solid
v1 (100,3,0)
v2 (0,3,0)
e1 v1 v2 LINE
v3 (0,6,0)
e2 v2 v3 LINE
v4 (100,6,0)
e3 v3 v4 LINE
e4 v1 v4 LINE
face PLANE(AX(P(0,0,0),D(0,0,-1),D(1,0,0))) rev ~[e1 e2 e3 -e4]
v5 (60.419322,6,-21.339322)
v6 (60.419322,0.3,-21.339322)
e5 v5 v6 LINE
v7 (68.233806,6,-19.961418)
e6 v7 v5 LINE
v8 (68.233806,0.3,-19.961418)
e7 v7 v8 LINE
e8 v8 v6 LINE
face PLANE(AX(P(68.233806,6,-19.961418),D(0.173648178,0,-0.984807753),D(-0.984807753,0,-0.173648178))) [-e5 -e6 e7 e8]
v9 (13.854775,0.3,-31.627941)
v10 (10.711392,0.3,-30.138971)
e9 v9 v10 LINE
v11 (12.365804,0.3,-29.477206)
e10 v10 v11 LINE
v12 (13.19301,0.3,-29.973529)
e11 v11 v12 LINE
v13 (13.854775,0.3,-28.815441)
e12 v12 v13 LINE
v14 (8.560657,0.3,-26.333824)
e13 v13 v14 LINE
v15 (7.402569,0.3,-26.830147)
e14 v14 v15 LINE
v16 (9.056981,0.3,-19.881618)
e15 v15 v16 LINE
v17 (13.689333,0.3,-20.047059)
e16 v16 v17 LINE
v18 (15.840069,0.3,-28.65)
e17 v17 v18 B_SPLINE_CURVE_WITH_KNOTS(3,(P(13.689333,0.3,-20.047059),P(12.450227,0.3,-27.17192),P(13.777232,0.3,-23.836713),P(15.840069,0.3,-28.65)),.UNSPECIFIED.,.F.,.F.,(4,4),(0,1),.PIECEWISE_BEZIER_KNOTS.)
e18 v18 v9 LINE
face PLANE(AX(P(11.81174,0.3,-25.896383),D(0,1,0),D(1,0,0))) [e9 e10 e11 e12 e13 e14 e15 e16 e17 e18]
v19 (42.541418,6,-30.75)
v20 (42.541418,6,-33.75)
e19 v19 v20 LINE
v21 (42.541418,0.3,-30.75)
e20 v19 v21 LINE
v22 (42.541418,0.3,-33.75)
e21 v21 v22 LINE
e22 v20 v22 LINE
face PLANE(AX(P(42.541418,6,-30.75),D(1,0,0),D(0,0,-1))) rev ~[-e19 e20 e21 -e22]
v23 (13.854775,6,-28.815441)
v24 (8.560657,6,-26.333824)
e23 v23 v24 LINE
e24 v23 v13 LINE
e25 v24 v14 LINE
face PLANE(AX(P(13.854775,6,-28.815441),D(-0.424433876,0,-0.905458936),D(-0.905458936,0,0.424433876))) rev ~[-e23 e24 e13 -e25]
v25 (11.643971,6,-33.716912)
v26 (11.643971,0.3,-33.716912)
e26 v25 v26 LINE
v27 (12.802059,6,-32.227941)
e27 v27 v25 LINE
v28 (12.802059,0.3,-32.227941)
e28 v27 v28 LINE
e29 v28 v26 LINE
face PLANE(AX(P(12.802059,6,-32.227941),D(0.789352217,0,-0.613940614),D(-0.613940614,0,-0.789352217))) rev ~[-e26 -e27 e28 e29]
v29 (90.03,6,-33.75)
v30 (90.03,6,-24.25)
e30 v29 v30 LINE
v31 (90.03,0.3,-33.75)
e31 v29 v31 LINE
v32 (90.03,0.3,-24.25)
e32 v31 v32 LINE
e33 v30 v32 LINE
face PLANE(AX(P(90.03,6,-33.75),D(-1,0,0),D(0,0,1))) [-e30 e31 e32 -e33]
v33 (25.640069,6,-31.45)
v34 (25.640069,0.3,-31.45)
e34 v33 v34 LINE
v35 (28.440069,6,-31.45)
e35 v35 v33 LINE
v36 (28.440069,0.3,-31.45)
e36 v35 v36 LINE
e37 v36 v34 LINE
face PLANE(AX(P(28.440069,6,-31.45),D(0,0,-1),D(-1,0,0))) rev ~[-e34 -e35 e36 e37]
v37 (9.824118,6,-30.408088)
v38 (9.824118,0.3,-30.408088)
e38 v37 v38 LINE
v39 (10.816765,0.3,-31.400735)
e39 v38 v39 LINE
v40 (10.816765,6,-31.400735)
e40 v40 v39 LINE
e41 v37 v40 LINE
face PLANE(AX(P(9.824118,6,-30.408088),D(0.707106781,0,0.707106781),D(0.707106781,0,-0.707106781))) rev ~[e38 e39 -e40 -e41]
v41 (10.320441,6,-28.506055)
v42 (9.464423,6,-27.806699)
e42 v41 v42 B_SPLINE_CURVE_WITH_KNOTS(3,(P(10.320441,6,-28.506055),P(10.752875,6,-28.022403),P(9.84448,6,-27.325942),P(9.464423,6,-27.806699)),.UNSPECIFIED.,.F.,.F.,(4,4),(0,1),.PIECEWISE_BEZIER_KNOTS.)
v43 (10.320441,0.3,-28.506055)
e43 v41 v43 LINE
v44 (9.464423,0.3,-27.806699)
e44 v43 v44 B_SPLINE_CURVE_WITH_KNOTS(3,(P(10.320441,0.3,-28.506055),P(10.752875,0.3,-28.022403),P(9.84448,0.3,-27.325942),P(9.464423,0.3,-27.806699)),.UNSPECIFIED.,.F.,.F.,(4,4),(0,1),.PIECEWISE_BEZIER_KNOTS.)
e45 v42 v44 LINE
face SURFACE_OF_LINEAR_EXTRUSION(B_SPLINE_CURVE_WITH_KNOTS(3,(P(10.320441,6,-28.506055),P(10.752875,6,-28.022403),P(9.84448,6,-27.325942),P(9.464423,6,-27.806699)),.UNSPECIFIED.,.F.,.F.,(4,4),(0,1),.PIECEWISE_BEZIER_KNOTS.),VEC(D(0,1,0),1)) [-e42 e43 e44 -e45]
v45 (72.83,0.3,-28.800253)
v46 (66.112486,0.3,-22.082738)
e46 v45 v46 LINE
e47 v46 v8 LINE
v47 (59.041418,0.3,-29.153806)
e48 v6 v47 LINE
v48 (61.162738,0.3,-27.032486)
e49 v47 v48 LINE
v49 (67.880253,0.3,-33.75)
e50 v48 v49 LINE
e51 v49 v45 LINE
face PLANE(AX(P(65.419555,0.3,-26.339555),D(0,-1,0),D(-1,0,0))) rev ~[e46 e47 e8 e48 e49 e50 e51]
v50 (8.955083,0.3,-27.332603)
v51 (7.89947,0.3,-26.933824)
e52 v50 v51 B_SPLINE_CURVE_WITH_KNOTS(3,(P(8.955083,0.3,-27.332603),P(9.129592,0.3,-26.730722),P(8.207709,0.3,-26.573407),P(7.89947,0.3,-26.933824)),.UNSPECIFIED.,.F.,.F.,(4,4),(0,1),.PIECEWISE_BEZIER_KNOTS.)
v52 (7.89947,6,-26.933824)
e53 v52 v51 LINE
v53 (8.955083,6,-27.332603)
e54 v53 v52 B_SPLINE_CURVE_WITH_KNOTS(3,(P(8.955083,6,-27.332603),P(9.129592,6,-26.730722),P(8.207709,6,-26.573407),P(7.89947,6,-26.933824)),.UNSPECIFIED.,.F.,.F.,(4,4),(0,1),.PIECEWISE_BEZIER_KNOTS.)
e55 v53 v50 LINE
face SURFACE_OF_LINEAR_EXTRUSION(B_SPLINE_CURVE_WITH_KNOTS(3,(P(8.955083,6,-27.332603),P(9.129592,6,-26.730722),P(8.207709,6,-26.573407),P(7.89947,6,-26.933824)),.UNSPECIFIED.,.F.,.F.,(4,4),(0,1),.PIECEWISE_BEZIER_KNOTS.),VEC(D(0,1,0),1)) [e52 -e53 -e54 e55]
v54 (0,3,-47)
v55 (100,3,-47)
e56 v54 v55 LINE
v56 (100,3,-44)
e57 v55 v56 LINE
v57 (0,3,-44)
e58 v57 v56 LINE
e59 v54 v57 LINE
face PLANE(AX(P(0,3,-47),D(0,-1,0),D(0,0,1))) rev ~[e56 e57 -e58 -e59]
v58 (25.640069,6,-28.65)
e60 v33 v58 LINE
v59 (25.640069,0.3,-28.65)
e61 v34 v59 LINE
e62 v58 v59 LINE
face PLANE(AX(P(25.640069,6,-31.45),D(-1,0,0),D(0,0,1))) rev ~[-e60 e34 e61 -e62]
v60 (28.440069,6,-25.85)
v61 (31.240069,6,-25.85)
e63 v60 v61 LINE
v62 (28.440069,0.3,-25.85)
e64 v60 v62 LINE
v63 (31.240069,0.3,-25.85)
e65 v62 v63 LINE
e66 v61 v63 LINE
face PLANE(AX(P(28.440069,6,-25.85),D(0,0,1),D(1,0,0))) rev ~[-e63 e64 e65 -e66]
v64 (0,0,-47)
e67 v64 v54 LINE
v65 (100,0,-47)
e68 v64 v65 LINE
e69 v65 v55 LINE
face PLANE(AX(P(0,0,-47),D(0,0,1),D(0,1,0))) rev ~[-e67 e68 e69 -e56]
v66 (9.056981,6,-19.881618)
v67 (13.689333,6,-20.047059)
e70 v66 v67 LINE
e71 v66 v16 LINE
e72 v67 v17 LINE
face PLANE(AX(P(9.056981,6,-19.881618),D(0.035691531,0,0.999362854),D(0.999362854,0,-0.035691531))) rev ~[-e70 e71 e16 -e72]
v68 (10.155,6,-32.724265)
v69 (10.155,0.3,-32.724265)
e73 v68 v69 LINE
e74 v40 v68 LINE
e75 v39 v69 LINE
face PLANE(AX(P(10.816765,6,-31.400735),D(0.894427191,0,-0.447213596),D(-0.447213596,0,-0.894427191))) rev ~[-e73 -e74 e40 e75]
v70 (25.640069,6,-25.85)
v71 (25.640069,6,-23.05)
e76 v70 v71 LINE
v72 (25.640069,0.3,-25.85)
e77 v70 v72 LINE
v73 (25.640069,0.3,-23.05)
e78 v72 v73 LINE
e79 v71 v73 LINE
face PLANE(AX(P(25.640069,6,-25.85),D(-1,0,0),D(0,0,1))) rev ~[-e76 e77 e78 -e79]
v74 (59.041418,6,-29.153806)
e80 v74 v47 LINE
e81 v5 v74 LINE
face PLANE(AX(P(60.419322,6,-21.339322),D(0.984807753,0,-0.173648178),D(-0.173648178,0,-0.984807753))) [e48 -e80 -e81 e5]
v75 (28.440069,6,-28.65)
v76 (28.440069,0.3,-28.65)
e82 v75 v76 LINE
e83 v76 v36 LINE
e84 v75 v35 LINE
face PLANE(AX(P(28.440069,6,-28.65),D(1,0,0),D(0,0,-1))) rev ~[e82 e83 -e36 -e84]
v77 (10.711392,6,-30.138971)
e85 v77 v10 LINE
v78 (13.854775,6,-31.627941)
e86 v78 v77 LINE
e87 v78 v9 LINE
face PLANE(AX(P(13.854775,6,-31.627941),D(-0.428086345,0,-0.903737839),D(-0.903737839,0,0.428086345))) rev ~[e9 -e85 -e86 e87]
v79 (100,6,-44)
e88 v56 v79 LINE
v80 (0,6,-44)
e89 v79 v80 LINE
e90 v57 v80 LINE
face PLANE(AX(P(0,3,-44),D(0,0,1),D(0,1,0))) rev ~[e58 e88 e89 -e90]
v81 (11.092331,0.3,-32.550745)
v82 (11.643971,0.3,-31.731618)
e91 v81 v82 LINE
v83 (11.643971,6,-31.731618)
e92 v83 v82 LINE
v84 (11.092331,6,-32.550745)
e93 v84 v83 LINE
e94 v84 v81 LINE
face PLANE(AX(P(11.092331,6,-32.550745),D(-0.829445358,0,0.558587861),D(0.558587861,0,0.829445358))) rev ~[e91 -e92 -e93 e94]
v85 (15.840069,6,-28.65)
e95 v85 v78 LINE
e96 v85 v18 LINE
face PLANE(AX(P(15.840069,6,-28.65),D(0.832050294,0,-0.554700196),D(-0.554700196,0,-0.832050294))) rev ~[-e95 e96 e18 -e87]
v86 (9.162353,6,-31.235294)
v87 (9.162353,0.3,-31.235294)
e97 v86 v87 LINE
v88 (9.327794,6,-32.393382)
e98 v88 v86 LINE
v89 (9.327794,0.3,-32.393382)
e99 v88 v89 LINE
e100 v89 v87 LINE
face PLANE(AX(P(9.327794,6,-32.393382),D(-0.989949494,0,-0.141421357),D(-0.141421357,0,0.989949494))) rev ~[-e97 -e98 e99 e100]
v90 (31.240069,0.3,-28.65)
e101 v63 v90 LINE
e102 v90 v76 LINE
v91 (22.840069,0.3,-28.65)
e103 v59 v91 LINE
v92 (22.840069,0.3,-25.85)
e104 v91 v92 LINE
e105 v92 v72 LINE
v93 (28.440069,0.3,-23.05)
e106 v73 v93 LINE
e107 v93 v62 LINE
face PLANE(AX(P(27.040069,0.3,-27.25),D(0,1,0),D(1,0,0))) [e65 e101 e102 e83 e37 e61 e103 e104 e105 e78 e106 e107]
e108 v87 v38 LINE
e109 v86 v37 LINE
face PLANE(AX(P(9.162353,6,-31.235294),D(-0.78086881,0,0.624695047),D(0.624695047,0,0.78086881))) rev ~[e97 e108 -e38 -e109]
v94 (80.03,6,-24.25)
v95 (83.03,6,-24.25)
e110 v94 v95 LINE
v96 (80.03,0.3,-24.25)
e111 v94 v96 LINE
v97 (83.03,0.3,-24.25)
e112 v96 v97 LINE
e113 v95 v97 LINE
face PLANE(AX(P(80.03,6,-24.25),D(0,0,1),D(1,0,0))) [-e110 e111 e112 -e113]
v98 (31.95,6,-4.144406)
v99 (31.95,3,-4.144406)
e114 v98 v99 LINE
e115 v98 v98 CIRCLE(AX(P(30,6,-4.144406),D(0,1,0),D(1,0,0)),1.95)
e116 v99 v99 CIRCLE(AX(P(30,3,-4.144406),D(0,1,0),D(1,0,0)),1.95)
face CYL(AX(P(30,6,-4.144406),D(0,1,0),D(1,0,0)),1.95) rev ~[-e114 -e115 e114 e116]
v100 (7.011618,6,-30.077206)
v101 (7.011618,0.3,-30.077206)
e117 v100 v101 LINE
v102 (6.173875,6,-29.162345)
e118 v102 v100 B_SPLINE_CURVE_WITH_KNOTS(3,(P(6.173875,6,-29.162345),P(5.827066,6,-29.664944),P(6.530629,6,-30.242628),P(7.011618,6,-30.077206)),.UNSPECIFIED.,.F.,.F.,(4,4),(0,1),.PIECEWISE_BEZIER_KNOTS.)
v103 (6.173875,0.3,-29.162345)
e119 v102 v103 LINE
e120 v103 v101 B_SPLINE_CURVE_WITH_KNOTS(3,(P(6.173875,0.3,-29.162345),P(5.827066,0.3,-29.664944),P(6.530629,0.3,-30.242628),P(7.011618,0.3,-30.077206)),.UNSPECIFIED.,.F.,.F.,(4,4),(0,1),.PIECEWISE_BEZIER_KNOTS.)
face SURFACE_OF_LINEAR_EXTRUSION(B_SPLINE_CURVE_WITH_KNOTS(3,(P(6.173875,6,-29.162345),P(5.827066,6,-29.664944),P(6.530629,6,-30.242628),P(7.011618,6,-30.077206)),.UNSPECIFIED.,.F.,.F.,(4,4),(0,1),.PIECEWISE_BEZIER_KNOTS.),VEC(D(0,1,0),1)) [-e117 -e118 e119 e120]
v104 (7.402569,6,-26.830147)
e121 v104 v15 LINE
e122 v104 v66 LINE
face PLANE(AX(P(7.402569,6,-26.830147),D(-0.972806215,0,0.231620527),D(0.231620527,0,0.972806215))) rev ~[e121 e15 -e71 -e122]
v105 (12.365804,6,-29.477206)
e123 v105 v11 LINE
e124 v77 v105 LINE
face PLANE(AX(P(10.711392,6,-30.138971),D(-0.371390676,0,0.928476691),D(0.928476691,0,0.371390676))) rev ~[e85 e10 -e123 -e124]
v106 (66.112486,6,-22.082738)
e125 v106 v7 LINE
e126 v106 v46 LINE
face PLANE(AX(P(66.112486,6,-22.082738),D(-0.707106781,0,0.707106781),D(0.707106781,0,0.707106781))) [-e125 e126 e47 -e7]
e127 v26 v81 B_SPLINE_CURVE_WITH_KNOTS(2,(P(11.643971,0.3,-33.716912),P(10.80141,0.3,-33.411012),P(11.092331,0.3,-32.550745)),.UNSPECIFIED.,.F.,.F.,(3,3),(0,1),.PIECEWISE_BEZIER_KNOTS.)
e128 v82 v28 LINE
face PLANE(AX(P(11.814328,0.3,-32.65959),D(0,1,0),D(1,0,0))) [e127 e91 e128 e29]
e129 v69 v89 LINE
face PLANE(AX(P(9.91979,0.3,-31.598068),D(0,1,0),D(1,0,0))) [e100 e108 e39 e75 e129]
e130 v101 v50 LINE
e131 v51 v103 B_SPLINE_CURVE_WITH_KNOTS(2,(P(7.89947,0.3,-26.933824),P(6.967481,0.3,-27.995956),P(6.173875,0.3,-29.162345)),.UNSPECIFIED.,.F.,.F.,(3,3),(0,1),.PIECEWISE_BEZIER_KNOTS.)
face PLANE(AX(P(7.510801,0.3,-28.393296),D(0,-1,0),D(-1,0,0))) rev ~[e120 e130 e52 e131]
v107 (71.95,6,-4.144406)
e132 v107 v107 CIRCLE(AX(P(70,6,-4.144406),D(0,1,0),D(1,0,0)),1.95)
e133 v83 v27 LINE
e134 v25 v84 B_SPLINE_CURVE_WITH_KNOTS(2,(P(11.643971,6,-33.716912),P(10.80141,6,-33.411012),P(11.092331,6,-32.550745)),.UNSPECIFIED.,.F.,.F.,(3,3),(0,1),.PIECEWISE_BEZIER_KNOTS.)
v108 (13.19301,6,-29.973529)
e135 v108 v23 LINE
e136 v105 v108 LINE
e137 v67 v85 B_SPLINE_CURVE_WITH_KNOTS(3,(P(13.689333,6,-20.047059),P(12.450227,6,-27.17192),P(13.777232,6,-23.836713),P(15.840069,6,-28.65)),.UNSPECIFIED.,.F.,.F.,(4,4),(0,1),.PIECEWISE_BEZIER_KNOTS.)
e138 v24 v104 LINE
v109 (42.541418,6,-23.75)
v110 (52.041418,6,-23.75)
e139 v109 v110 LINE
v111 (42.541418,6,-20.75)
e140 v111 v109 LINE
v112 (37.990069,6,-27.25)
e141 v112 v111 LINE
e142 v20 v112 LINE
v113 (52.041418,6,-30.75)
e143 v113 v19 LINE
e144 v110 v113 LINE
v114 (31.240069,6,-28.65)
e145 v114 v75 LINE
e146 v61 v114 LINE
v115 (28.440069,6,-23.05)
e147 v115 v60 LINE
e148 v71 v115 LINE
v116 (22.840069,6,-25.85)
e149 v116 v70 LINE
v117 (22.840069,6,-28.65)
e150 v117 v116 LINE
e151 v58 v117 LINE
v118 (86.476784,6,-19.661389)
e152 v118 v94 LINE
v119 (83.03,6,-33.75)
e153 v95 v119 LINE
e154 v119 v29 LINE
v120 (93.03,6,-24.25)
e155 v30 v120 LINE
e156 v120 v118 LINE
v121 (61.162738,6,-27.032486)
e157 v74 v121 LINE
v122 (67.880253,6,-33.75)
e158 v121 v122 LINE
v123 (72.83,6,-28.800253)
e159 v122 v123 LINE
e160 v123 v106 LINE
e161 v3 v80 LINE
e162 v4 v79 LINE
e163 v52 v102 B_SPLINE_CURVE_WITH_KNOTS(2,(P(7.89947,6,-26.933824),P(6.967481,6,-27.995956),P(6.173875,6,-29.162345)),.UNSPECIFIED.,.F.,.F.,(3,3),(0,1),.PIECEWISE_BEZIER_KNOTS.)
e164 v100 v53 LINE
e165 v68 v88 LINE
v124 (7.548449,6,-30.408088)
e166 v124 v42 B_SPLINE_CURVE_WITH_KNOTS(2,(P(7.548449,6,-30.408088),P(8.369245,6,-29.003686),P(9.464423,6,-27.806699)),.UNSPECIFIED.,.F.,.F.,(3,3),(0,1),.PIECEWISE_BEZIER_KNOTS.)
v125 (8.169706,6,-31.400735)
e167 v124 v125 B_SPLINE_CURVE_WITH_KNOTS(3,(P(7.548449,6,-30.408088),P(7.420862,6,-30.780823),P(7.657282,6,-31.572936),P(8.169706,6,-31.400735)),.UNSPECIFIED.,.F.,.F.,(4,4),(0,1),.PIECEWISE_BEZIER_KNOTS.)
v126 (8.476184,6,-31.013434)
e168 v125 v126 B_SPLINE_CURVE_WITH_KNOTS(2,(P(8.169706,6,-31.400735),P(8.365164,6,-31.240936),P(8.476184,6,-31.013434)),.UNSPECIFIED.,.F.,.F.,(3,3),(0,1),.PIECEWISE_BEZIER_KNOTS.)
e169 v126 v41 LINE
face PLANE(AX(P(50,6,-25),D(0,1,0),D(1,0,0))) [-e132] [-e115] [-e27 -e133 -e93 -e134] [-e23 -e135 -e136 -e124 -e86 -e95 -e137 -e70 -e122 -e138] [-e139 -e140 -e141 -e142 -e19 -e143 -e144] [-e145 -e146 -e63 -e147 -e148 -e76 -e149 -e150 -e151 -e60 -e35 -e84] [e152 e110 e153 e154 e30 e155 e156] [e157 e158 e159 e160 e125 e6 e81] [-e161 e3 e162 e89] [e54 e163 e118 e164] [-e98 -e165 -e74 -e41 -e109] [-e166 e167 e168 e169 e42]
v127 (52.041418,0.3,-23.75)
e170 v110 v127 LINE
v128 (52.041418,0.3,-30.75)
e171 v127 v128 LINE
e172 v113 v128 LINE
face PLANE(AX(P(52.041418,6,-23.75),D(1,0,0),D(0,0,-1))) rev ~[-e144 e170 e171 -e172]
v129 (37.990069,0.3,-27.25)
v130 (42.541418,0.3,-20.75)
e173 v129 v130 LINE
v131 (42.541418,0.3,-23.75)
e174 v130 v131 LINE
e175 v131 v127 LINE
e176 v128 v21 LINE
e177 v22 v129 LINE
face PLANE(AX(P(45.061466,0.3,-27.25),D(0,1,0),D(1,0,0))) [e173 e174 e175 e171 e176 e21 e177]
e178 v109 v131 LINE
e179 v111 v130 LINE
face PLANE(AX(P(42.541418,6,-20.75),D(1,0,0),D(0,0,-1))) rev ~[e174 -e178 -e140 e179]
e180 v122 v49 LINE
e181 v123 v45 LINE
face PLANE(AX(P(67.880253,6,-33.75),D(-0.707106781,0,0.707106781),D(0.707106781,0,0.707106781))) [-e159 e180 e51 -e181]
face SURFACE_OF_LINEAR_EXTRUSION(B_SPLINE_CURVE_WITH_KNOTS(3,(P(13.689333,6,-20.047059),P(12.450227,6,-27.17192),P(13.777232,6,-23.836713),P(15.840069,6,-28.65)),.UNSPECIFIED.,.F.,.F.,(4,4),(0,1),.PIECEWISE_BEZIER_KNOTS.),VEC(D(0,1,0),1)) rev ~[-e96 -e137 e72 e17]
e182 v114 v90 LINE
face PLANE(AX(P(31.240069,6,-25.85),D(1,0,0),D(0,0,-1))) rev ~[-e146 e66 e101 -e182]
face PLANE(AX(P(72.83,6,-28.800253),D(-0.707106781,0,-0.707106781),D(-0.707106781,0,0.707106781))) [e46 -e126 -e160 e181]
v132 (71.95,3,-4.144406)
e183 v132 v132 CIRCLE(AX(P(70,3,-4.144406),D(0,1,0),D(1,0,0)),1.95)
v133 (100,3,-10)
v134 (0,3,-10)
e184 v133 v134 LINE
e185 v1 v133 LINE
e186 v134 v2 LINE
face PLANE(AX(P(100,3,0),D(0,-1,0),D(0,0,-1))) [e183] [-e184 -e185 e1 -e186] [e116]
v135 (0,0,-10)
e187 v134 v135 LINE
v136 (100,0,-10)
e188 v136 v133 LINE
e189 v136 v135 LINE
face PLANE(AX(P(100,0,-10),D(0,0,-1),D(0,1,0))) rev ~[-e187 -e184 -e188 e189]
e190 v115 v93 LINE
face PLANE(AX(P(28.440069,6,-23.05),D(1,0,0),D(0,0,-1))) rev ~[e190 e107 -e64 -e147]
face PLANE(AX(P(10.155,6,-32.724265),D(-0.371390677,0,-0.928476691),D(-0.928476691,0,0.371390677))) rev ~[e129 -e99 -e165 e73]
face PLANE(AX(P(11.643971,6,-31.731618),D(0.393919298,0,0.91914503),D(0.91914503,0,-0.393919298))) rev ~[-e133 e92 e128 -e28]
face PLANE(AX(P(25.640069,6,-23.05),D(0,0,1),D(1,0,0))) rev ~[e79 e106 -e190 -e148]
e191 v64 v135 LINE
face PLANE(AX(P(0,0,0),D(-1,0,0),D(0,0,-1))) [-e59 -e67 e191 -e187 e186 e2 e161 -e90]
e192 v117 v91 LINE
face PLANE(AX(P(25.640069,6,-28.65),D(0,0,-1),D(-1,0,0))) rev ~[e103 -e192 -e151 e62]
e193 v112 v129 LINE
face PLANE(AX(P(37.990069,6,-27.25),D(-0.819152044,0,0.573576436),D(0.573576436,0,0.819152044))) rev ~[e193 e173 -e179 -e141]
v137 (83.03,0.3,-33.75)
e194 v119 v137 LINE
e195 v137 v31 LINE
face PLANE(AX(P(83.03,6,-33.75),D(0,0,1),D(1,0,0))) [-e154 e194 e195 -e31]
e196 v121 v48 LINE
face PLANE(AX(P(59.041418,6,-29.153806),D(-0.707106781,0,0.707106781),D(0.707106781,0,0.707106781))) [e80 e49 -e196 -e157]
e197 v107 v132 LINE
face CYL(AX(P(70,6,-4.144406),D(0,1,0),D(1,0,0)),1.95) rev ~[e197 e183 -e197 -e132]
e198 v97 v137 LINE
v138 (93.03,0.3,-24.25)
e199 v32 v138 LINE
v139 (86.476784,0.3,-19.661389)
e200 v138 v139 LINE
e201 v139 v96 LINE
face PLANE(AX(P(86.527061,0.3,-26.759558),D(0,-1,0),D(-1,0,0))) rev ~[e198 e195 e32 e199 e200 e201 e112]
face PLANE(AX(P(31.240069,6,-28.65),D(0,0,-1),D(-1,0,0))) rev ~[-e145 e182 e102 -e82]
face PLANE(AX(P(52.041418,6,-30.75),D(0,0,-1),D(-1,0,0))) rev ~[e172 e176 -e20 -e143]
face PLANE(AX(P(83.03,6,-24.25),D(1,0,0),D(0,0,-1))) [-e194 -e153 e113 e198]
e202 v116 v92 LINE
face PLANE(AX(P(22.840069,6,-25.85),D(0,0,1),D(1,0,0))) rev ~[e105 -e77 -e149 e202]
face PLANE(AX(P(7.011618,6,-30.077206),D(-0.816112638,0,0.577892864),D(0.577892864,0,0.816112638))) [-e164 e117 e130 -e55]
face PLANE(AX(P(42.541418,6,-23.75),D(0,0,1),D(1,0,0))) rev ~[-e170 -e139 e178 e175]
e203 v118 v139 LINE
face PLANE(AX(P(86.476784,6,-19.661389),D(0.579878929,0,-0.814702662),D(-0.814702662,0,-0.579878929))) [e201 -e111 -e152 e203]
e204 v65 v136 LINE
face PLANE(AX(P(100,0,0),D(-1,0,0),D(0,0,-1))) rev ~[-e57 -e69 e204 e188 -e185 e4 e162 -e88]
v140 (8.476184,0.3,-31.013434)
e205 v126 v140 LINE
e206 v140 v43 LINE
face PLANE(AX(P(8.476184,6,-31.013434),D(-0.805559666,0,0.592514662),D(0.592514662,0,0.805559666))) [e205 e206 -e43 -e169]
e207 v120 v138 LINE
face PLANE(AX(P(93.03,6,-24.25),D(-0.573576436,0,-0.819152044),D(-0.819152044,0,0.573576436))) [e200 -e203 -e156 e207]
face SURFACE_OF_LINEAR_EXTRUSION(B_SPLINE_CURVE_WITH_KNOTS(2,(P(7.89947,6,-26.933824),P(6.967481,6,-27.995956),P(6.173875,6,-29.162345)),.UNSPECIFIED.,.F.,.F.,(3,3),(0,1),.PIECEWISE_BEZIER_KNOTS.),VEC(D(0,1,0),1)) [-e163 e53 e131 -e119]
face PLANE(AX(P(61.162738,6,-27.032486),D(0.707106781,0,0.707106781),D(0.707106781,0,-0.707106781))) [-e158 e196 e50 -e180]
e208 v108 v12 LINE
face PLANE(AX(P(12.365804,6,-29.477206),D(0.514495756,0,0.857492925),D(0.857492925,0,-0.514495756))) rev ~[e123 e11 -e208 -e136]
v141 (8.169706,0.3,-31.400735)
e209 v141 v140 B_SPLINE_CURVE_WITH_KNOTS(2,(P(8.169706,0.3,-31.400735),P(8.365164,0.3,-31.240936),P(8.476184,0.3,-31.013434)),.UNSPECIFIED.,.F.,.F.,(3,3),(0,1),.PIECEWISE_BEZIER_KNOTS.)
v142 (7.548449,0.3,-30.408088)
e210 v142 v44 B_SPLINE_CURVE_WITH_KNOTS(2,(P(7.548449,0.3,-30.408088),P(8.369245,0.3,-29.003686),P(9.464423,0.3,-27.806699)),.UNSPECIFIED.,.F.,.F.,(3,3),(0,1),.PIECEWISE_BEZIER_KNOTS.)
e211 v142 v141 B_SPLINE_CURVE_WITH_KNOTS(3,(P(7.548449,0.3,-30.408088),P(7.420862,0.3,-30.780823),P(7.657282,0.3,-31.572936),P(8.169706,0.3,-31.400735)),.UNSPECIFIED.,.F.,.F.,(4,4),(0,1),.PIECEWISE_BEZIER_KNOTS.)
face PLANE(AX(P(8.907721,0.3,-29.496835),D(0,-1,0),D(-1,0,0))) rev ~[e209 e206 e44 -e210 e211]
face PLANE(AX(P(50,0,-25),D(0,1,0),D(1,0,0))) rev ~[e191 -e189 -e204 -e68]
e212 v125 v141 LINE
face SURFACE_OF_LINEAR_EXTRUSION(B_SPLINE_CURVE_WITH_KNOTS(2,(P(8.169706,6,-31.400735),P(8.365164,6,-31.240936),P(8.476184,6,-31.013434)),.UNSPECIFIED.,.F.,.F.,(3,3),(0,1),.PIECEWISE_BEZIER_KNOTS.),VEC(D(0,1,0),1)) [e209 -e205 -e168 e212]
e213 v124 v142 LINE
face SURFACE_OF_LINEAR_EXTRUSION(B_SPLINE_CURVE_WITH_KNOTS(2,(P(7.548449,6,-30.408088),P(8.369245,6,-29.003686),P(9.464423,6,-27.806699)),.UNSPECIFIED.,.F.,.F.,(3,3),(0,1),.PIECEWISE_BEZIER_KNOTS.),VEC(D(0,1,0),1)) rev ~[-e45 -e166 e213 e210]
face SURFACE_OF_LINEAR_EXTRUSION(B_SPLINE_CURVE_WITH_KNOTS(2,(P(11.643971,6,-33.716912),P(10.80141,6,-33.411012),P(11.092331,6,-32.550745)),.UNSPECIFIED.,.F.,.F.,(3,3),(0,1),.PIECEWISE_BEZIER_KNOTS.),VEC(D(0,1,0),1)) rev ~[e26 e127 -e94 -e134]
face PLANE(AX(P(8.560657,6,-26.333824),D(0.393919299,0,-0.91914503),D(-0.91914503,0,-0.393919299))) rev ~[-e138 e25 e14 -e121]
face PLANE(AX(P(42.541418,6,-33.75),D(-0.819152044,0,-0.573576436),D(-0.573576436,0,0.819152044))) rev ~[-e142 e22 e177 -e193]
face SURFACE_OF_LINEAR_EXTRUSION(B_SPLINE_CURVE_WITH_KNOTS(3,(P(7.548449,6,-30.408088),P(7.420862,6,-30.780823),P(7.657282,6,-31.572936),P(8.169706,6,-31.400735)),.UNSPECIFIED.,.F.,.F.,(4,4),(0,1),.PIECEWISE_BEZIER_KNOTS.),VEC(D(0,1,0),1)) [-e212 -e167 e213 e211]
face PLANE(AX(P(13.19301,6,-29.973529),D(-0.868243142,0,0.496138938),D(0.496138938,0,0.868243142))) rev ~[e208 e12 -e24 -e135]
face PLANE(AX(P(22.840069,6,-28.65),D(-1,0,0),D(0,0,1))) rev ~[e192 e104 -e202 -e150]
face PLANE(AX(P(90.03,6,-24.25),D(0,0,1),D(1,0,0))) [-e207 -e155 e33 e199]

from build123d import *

# Parameters (mm, degrees)
SKETCH1_W           = 100
SKETCH1_H           = 50
BOSS_EXTRUDE1_DEPTH = 6
SKETCH2_W           = 10
SKETCH2_H           = 3
CUT_EXTRUDE1_DEPTH  = 101
SKETCH3_W           = 6
SKETCH3_H           = 34
BOSS_EXTRUDE2_DEPTH = 100
SKETCH4_W           = 2
SKETCH4_H           = 3
CUT_EXTRUDE2_DEPTH  = 101
SKETCH5_W           = 7.857142857
SKETCH5_H           = 12.5
CUT_EXTRUDE3_DEPTH  = 5.5
CUT_EXTRUDE4_DEPTH  = 5.7
CUT_EXTRUDE5_DEPTH  = 101.0000001
SKETCH10_R          = 1.95
CUT_EXTRUDE6_DEPTH  = 7
SKETCH11_R          = 1.95
CUT_EXTRUDE7_DEPTH  = 7


with BuildPart() as part:
    # Sketch1 → Boss-Extrude1 (new body)
    with BuildSketch(Plane(origin=(0, 0, 0), x_dir=(1, 0, 0), z_dir=(0, 1, 0))):
        with Locations((50, 25)):
            Rectangle(SKETCH1_W, SKETCH1_H)
    extrude(amount=BOSS_EXTRUDE1_DEPTH)

    # Sketch2 → Cut-Extrude1 (cut, through all)
    with BuildSketch(Plane(origin=(100, 0, 0), x_dir=(0, 0, -1), z_dir=(1, 0, 0))):
        with Locations((5, 1.5)):
            Rectangle(SKETCH2_W, SKETCH2_H)
    extrude(amount=-CUT_EXTRUDE1_DEPTH, mode=Mode.SUBTRACT)

    # Sketch3 → Boss-Extrude2 (add)
    with BuildSketch(Plane(origin=(100, 0, 0), x_dir=(0, 0, -1), z_dir=(1, 0, 0))):
        with Locations((47, 17)):
            Rectangle(SKETCH3_W, SKETCH3_H)
    extrude(amount=-BOSS_EXTRUDE2_DEPTH)

    # Sketch4 → Cut-Extrude2 (cut, through all)
    with BuildSketch(Plane.ZY):
        with Locations((-45, 32.5)):
            Rectangle(SKETCH4_W, SKETCH4_H)
    extrude(amount=-CUT_EXTRUDE2_DEPTH, mode=Mode.SUBTRACT)

    # Sketch5 → Cut-Extrude3 (cut)
    with BuildSketch(Plane(origin=(0, 0, -44), x_dir=(-1, 0, 0), z_dir=(0, 0, -1))):
        with BuildLine():
            Line((-45.088169643, 17.571428571), (-45.439732143, 17.454241071))
            Line((-45.439732143, 17.454241071), (-48.056919643, 14.901227679))
            Line((-48.056919643, 14.901227679), (-48.098772321, 14.76171875))
            Line((-48.098772321, 14.76171875), (-48.107142857, 12.309151786))
            Line((-48.107142857, 12.309151786), (-48.059709821, 12.0859375))
            Line((-48.059709821, 12.0859375), (-45.609933036, 9.619419643))
            ThreePointArc((-45.609933036, 9.619419643), (-45.303061085, 9.424580045), (-44.945870536, 9.357142857))
            Line((-44.945870536, 9.357142857), (-38.319196429, 9.376674107))
            ThreePointArc((-38.319196429, 9.376674107), (-37.810119286, 9.488456034), (-37.392857143, 9.80078125))
            Line((-37.392857143, 9.80078125), (-37.392857143, 23.740513393))
            ThreePointArc((-37.392857143, 23.740513393), (-38.102358714, 23.844903984), (-38.818638393, 23.880022321))
            Line((-38.818638393, 23.880022321), (-38.821428571, 17.571428571))
            Line((-38.821428571, 17.571428571), (-40.116071429, 17.571428571))
            Line((-40.116071429, 17.571428571), (-46.991071429, 24.259486607))
            ThreePointArc((-46.991071429, 24.259486607), (-47.787451466, 24.334800239), (-48.031808036, 23.573102679))
            Line((-48.031808036, 23.573102679), (-41.681361607, 17.571428571))
            Line((-41.681361607, 17.571428571), (-45.088169643, 17.571428571))
        make_face()
        Polygon((-46.678571429, 12.557477679), (-44.725446429, 10.607142857), (-38.821428571, 10.607142857), (-38.821428571, 16.321428571), (-44.708705357, 16.321428571), (-46.678571429, 14.354352679), align=None, mode=Mode.SUBTRACT)
        with BuildLine():
            Line((-17.038504464, 9.619419643), (-19.48828125, 12.0859375))
            Line((-19.48828125, 12.0859375), (-19.535714286, 12.309151786))
            Line((-19.535714286, 12.309151786), (-19.52734375, 14.758928571))
            Line((-19.52734375, 14.758928571), (-19.485491071, 14.904017857))
            Line((-19.485491071, 14.904017857), (-16.896205357, 17.454241071))
            Line((-16.896205357, 17.454241071), (-16.555803571, 17.571428571))
            Line((-16.555803571, 17.571428571), (-10.25, 17.571428571))
            Line((-10.25, 17.571428571), (-10.244419643, 23.868861607))
            ThreePointArc((-10.244419643, 23.868861607), (-9.462763686, 24.582553037), (-8.821428571, 23.740513393))
            Line((-8.821428571, 23.740513393), (-8.821428571, 9.80078125))
            ThreePointArc((-8.821428571, 9.80078125), (-9.238690714, 9.488456034), (-9.747767857, 9.376674107))
            Line((-9.747767857, 9.376674107), (-16.374441964, 9.357142857))
            ThreePointArc((-16.374441964, 9.357142857), (-16.731632514, 9.424580045), (-17.038504464, 9.619419643))
        make_face()
        Polygon((-18.107142857, 12.563058036), (-16.154017857, 10.607142857), (-10.25, 10.607142857), (-10.25, 16.321428571), (-16.137276786, 16.321428571), (-18.107142857, 14.368303571), align=None, mode=Mode.SUBTRACT)
        with BuildLine():
            Line((-33.821428571, 10.1328125), (-33.815848214, 23.880022321))
            ThreePointArc((-33.815848214, 23.880022321), (-33.601713039, 24.293327013), (-33.140625, 24.357142857))
            Line((-33.140625, 24.357142857), (-23.508928571, 24.357142857))
            ThreePointArc((-23.508928571, 24.357142857), (-23.212822653, 23.985866281), (-23.107142857, 23.522879464))
            Line((-23.107142857, 23.522879464), (-23.107142857, 9.78125))
            ThreePointArc((-23.107142857, 9.78125), (-23.280423047, 9.477022359), (-23.609375, 9.357142857))
            Line((-23.609375, 9.357142857), (-33.235491071, 9.379464286))
            ThreePointArc((-33.235491071, 9.379464286), (-33.657785084, 9.655552078), (-33.821428571, 10.1328125))
        make_face()
        with Locations((-28.464285715, 16.857142857)):
            Rectangle(SKETCH5_W, SKETCH5_H, mode=Mode.SUBTRACT)
        with BuildLine():
            Line((-62.392857143, 10.1328125), (-62.387276786, 23.880022321))
            ThreePointArc((-62.387276786, 23.880022321), (-62.17314161, 24.293327013), (-61.712053571, 24.357142857))
            Line((-61.712053571, 24.357142857), (-52.080357143, 24.357142857))
            ThreePointArc((-52.080357143, 24.357142857), (-51.784251224, 23.985866281), (-51.678571429, 23.522879464))
            Line((-51.678571429, 23.522879464), (-51.678571429, 9.78125))
            ThreePointArc((-51.678571429, 9.78125), (-51.851851619, 9.477022359), (-52.180803571, 9.357142857))
            Line((-52.180803571, 9.357142857), (-61.806919643, 9.379464286))
            ThreePointArc((-61.806919643, 9.379464286), (-62.283572717, 9.613272807), (-62.392857143, 10.1328125))
        make_face()
        with Locations((-57.035714286, 16.857142857)):
            Rectangle(SKETCH5_W, SKETCH5_H, mode=Mode.SUBTRACT)
        with BuildLine():
            Line((-76.516741071, 10.224888393), (-69.834263393, 16.890625))
            Line((-69.834263393, 16.890625), (-76.508370536, 23.564732143))
            ThreePointArc((-76.508370536, 23.564732143), (-76.263865977, 24.33823157), (-75.456473214, 24.259486607))
            Line((-75.456473214, 24.259486607), (-68.670758929, 17.571428571))
            Line((-68.670758929, 17.571428571), (-67.392857143, 17.571428571))
            Line((-67.392857143, 17.571428571), (-67.390066964, 23.880022321))
            ThreePointArc((-67.390066964, 23.880022321), (-66.613914042, 24.456808533), (-65.964285714, 23.740513393))
            Line((-65.964285714, 23.740513393), (-65.964285714, 9.789620536))
            ThreePointArc((-65.964285714, 9.789620536), (-66.815504738, 9.403127861), (-67.392857143, 10.138392857))
            Line((-67.392857143, 10.138392857), (-67.392857143, 16.321428571))
            Line((-67.392857143, 16.321428571), (-68.66796875, 16.321428571))
            Line((-68.66796875, 16.321428571), (-75.489955357, 9.465959821))
            ThreePointArc((-75.489955357, 9.465959821), (-76.031889018, 9.806810078), (-76.516741071, 10.224888393))
        make_face()
        with BuildLine():
            Line((-81.678571429, 10.130022321), (-81.678571429, 21.2265625))
            Line((-81.678571429, 21.2265625), (-83.5703125, 23.107142857))
            Line((-83.5703125, 23.107142857), (-87.585379464, 23.107142857))
            Line((-87.585379464, 23.107142857), (-89.535714286, 21.151227679))
            Line((-89.535714286, 21.151227679), (-89.535714286, 9.770089286))
            ThreePointArc((-89.535714286, 9.770089286), (-90.273009404, 9.862916097), (-90.964285714, 10.135602679))
            Line((-90.964285714, 10.135602679), (-90.883370536, 21.751116071))
            Line((-90.883370536, 21.751116071), (-88.2578125, 24.320870536))
            Line((-88.2578125, 24.320870536), (-87.872767857, 24.357142857))
            Line((-87.872767857, 24.357142857), (-82.970424107, 24.357142857))
            Line((-82.970424107, 24.357142857), (-82.7890625, 24.234375))
            Line((-82.7890625, 24.234375), (-80.303013393, 21.742745536))
            Line((-80.303013393, 21.742745536), (-80.25, 21.48046875))
            Line((-80.25, 21.48046875), (-80.25, 9.78125))
            ThreePointArc((-80.25, 9.78125), (-80.985264996, 9.869705022), (-81.678571429, 10.130022321))
        make_face()
    extrude(amount=CUT_EXTRUDE3_DEPTH, mode=Mode.SUBTRACT)

    # Sketch8 → Cut-Extrude4 (cut)
    with BuildSketch(Plane(origin=(0, 6, 0), x_dir=(1, 0, 0), z_dir=(0, 1, 0))):
        with BuildLine():
            Line((7.011617647, 30.077205882), (8.955082743, 27.33260299))
            add(Edge.make_bspline(
                [(8.955082743, 27.33260299), (9.12959235, 26.730722395), (8.207708735, 26.573406529), (7.899470003, 26.933823529)],
                knots=[0, 0, 0, 0, 1, 1, 1, 1], degree=3))
            add(Edge.make_bspline(
                [(7.899470003, 26.933823529), (6.967481131, 27.995956124), (6.173874947, 29.162344961)],
                knots=[0, 0, 0, 1, 1, 1], degree=2))
            add(Edge.make_bspline(
                [(6.173874947, 29.162344961), (5.827065663, 29.66494419), (6.530628947, 30.242627585), (7.011617647, 30.077205882)],
                knots=[0, 0, 0, 0, 1, 1, 1, 1], degree=3))
        make_face()
        with BuildLine():
            Line((8.476184036, 31.013434386), (10.320441176, 28.506054806))
            add(Edge.make_bspline(
                [(10.320441176, 28.506054806), (10.75287522, 28.022402696), (9.844480118, 27.32594185), (9.464423283, 27.806698869)],
                knots=[0, 0, 0, 0, 1, 1, 1, 1], degree=3))
            add(Edge.make_bspline(
                [(7.548449232, 30.408088235), (8.369245022, 29.00368602), (9.464423283, 27.806698869)],
                knots=[0, 0, 0, 1, 1, 1], degree=2))
            add(Edge.make_bspline(
                [(7.548449232, 30.408088235), (7.420862108, 30.780822958), (7.657281624, 31.572935659), (8.169705882, 31.400735294)],
                knots=[0, 0, 0, 0, 1, 1, 1, 1], degree=3))
            add(Edge.make_bspline(
                [(8.169705882, 31.400735294), (8.365163665, 31.240936083), (8.476184036, 31.013434386)],
                knots=[0, 0, 0, 1, 1, 1], degree=2))
        make_face()
        Polygon((10.816764706, 31.400735294), (10.155, 32.724264706), (9.327794118, 32.393382353), (9.162352941, 31.235294118), (9.824117647, 30.408088235), align=None)
        with BuildLine():
            Line((12.802058824, 32.227941176), (11.643970588, 33.716911765))
            add(Edge.make_bspline(
                [(11.643970588, 33.716911765), (10.801410064, 33.411012177), (11.092331374, 32.550744981)],
                knots=[0, 0, 0, 1, 1, 1], degree=2))
            Line((11.092331374, 32.550744981), (11.643970588, 31.731617647))
            Line((11.643970588, 31.731617647), (12.802058824, 32.227941176))
        make_face()
        with BuildLine():
            Line((13.193009945, 29.973529412), (13.854774651, 28.815441176))
            Line((13.854774651, 28.815441176), (8.560657004, 26.333823529))
            Line((8.560657004, 26.333823529), (7.402568768, 26.830147059))
            Line((7.402568768, 26.830147059), (9.056980533, 19.881617647))
            Line((9.056980533, 19.881617647), (13.689333474, 20.047058824))
            add(Edge.make_bspline(
                [(13.689333474, 20.047058824), (12.450227116, 27.171920383), (13.777231511, 23.836713066), (15.840068768, 28.65)],
                knots=[0, 0, 0, 0, 1, 1, 1, 1], degree=3))
            Line((15.840068768, 28.65), (13.854774651, 31.627941176))
            Line((13.854774651, 31.627941176), (10.711392298, 30.138970588))
            Line((10.711392298, 30.138970588), (12.365804063, 29.477205882))
            Line((12.365804063, 29.477205882), (13.193009945, 29.973529412))
        make_face()
        Polygon((31.240068768, 25.85), (31.240068768, 28.65), (28.440068768, 28.65), (28.440068768, 31.45), (25.640068768, 31.45), (25.640068768, 28.65), (22.840068768, 28.65), (22.840068768, 25.85), (25.640068768, 25.85), (25.640068768, 23.05), (28.440068768, 23.05), (28.440068768, 25.85), align=None)
        Polygon((52.041417767, 30.75), (42.541417767, 30.75), (42.541417767, 33.75), (37.990068768, 27.25), (42.541417767, 20.75), (42.541417767, 23.75), (52.041417767, 23.75), align=None)
        Polygon((60.419322104, 21.339322104), (59.041417767, 29.153805922), (61.16273811, 27.032485579), (67.880252532, 33.75), (72.83, 28.800252532), (66.112485579, 22.08273811), (68.233805922, 19.961417767), align=None)
        Polygon((90.03, 33.75), (90.03, 24.25), (93.03, 24.25), (86.476783646, 19.661388509), (80.03, 24.25), (83.03, 24.25), (83.03, 33.75), align=None)
    extrude(amount=-CUT_EXTRUDE4_DEPTH, mode=Mode.SUBTRACT)

    # Sketch9 → Cut-Extrude5 (cut, through all)
    with BuildSketch(Plane.ZY):
        Polygon((-50, 6), (-50, 0), (-47, 0), (-47, 3), (-44, 3), (-44, 6), (-44, 34), (-50, 34), align=None)
    extrude(amount=-CUT_EXTRUDE5_DEPTH, mode=Mode.SUBTRACT)

    # Sketch10 → Cut-Extrude6 (cut, through all)
    with BuildSketch(Plane(origin=(0, 6, 0), x_dir=(1, 0, 0), z_dir=(0, 1, 0))):
        with Locations((70, 4.144406286)):
            Circle(SKETCH10_R)
    extrude(amount=-CUT_EXTRUDE6_DEPTH, mode=Mode.SUBTRACT)

    # Sketch11 → Cut-Extrude7 (cut, through all)
    with BuildSketch(Plane(origin=(0, 6, 0), x_dir=(1, 0, 0), z_dir=(0, 1, 0))):
        with Locations((30, 4.144406286)):
            Circle(SKETCH11_R)
    extrude(amount=-CUT_EXTRUDE7_DEPTH, mode=Mode.SUBTRACT)


solid = part.part
